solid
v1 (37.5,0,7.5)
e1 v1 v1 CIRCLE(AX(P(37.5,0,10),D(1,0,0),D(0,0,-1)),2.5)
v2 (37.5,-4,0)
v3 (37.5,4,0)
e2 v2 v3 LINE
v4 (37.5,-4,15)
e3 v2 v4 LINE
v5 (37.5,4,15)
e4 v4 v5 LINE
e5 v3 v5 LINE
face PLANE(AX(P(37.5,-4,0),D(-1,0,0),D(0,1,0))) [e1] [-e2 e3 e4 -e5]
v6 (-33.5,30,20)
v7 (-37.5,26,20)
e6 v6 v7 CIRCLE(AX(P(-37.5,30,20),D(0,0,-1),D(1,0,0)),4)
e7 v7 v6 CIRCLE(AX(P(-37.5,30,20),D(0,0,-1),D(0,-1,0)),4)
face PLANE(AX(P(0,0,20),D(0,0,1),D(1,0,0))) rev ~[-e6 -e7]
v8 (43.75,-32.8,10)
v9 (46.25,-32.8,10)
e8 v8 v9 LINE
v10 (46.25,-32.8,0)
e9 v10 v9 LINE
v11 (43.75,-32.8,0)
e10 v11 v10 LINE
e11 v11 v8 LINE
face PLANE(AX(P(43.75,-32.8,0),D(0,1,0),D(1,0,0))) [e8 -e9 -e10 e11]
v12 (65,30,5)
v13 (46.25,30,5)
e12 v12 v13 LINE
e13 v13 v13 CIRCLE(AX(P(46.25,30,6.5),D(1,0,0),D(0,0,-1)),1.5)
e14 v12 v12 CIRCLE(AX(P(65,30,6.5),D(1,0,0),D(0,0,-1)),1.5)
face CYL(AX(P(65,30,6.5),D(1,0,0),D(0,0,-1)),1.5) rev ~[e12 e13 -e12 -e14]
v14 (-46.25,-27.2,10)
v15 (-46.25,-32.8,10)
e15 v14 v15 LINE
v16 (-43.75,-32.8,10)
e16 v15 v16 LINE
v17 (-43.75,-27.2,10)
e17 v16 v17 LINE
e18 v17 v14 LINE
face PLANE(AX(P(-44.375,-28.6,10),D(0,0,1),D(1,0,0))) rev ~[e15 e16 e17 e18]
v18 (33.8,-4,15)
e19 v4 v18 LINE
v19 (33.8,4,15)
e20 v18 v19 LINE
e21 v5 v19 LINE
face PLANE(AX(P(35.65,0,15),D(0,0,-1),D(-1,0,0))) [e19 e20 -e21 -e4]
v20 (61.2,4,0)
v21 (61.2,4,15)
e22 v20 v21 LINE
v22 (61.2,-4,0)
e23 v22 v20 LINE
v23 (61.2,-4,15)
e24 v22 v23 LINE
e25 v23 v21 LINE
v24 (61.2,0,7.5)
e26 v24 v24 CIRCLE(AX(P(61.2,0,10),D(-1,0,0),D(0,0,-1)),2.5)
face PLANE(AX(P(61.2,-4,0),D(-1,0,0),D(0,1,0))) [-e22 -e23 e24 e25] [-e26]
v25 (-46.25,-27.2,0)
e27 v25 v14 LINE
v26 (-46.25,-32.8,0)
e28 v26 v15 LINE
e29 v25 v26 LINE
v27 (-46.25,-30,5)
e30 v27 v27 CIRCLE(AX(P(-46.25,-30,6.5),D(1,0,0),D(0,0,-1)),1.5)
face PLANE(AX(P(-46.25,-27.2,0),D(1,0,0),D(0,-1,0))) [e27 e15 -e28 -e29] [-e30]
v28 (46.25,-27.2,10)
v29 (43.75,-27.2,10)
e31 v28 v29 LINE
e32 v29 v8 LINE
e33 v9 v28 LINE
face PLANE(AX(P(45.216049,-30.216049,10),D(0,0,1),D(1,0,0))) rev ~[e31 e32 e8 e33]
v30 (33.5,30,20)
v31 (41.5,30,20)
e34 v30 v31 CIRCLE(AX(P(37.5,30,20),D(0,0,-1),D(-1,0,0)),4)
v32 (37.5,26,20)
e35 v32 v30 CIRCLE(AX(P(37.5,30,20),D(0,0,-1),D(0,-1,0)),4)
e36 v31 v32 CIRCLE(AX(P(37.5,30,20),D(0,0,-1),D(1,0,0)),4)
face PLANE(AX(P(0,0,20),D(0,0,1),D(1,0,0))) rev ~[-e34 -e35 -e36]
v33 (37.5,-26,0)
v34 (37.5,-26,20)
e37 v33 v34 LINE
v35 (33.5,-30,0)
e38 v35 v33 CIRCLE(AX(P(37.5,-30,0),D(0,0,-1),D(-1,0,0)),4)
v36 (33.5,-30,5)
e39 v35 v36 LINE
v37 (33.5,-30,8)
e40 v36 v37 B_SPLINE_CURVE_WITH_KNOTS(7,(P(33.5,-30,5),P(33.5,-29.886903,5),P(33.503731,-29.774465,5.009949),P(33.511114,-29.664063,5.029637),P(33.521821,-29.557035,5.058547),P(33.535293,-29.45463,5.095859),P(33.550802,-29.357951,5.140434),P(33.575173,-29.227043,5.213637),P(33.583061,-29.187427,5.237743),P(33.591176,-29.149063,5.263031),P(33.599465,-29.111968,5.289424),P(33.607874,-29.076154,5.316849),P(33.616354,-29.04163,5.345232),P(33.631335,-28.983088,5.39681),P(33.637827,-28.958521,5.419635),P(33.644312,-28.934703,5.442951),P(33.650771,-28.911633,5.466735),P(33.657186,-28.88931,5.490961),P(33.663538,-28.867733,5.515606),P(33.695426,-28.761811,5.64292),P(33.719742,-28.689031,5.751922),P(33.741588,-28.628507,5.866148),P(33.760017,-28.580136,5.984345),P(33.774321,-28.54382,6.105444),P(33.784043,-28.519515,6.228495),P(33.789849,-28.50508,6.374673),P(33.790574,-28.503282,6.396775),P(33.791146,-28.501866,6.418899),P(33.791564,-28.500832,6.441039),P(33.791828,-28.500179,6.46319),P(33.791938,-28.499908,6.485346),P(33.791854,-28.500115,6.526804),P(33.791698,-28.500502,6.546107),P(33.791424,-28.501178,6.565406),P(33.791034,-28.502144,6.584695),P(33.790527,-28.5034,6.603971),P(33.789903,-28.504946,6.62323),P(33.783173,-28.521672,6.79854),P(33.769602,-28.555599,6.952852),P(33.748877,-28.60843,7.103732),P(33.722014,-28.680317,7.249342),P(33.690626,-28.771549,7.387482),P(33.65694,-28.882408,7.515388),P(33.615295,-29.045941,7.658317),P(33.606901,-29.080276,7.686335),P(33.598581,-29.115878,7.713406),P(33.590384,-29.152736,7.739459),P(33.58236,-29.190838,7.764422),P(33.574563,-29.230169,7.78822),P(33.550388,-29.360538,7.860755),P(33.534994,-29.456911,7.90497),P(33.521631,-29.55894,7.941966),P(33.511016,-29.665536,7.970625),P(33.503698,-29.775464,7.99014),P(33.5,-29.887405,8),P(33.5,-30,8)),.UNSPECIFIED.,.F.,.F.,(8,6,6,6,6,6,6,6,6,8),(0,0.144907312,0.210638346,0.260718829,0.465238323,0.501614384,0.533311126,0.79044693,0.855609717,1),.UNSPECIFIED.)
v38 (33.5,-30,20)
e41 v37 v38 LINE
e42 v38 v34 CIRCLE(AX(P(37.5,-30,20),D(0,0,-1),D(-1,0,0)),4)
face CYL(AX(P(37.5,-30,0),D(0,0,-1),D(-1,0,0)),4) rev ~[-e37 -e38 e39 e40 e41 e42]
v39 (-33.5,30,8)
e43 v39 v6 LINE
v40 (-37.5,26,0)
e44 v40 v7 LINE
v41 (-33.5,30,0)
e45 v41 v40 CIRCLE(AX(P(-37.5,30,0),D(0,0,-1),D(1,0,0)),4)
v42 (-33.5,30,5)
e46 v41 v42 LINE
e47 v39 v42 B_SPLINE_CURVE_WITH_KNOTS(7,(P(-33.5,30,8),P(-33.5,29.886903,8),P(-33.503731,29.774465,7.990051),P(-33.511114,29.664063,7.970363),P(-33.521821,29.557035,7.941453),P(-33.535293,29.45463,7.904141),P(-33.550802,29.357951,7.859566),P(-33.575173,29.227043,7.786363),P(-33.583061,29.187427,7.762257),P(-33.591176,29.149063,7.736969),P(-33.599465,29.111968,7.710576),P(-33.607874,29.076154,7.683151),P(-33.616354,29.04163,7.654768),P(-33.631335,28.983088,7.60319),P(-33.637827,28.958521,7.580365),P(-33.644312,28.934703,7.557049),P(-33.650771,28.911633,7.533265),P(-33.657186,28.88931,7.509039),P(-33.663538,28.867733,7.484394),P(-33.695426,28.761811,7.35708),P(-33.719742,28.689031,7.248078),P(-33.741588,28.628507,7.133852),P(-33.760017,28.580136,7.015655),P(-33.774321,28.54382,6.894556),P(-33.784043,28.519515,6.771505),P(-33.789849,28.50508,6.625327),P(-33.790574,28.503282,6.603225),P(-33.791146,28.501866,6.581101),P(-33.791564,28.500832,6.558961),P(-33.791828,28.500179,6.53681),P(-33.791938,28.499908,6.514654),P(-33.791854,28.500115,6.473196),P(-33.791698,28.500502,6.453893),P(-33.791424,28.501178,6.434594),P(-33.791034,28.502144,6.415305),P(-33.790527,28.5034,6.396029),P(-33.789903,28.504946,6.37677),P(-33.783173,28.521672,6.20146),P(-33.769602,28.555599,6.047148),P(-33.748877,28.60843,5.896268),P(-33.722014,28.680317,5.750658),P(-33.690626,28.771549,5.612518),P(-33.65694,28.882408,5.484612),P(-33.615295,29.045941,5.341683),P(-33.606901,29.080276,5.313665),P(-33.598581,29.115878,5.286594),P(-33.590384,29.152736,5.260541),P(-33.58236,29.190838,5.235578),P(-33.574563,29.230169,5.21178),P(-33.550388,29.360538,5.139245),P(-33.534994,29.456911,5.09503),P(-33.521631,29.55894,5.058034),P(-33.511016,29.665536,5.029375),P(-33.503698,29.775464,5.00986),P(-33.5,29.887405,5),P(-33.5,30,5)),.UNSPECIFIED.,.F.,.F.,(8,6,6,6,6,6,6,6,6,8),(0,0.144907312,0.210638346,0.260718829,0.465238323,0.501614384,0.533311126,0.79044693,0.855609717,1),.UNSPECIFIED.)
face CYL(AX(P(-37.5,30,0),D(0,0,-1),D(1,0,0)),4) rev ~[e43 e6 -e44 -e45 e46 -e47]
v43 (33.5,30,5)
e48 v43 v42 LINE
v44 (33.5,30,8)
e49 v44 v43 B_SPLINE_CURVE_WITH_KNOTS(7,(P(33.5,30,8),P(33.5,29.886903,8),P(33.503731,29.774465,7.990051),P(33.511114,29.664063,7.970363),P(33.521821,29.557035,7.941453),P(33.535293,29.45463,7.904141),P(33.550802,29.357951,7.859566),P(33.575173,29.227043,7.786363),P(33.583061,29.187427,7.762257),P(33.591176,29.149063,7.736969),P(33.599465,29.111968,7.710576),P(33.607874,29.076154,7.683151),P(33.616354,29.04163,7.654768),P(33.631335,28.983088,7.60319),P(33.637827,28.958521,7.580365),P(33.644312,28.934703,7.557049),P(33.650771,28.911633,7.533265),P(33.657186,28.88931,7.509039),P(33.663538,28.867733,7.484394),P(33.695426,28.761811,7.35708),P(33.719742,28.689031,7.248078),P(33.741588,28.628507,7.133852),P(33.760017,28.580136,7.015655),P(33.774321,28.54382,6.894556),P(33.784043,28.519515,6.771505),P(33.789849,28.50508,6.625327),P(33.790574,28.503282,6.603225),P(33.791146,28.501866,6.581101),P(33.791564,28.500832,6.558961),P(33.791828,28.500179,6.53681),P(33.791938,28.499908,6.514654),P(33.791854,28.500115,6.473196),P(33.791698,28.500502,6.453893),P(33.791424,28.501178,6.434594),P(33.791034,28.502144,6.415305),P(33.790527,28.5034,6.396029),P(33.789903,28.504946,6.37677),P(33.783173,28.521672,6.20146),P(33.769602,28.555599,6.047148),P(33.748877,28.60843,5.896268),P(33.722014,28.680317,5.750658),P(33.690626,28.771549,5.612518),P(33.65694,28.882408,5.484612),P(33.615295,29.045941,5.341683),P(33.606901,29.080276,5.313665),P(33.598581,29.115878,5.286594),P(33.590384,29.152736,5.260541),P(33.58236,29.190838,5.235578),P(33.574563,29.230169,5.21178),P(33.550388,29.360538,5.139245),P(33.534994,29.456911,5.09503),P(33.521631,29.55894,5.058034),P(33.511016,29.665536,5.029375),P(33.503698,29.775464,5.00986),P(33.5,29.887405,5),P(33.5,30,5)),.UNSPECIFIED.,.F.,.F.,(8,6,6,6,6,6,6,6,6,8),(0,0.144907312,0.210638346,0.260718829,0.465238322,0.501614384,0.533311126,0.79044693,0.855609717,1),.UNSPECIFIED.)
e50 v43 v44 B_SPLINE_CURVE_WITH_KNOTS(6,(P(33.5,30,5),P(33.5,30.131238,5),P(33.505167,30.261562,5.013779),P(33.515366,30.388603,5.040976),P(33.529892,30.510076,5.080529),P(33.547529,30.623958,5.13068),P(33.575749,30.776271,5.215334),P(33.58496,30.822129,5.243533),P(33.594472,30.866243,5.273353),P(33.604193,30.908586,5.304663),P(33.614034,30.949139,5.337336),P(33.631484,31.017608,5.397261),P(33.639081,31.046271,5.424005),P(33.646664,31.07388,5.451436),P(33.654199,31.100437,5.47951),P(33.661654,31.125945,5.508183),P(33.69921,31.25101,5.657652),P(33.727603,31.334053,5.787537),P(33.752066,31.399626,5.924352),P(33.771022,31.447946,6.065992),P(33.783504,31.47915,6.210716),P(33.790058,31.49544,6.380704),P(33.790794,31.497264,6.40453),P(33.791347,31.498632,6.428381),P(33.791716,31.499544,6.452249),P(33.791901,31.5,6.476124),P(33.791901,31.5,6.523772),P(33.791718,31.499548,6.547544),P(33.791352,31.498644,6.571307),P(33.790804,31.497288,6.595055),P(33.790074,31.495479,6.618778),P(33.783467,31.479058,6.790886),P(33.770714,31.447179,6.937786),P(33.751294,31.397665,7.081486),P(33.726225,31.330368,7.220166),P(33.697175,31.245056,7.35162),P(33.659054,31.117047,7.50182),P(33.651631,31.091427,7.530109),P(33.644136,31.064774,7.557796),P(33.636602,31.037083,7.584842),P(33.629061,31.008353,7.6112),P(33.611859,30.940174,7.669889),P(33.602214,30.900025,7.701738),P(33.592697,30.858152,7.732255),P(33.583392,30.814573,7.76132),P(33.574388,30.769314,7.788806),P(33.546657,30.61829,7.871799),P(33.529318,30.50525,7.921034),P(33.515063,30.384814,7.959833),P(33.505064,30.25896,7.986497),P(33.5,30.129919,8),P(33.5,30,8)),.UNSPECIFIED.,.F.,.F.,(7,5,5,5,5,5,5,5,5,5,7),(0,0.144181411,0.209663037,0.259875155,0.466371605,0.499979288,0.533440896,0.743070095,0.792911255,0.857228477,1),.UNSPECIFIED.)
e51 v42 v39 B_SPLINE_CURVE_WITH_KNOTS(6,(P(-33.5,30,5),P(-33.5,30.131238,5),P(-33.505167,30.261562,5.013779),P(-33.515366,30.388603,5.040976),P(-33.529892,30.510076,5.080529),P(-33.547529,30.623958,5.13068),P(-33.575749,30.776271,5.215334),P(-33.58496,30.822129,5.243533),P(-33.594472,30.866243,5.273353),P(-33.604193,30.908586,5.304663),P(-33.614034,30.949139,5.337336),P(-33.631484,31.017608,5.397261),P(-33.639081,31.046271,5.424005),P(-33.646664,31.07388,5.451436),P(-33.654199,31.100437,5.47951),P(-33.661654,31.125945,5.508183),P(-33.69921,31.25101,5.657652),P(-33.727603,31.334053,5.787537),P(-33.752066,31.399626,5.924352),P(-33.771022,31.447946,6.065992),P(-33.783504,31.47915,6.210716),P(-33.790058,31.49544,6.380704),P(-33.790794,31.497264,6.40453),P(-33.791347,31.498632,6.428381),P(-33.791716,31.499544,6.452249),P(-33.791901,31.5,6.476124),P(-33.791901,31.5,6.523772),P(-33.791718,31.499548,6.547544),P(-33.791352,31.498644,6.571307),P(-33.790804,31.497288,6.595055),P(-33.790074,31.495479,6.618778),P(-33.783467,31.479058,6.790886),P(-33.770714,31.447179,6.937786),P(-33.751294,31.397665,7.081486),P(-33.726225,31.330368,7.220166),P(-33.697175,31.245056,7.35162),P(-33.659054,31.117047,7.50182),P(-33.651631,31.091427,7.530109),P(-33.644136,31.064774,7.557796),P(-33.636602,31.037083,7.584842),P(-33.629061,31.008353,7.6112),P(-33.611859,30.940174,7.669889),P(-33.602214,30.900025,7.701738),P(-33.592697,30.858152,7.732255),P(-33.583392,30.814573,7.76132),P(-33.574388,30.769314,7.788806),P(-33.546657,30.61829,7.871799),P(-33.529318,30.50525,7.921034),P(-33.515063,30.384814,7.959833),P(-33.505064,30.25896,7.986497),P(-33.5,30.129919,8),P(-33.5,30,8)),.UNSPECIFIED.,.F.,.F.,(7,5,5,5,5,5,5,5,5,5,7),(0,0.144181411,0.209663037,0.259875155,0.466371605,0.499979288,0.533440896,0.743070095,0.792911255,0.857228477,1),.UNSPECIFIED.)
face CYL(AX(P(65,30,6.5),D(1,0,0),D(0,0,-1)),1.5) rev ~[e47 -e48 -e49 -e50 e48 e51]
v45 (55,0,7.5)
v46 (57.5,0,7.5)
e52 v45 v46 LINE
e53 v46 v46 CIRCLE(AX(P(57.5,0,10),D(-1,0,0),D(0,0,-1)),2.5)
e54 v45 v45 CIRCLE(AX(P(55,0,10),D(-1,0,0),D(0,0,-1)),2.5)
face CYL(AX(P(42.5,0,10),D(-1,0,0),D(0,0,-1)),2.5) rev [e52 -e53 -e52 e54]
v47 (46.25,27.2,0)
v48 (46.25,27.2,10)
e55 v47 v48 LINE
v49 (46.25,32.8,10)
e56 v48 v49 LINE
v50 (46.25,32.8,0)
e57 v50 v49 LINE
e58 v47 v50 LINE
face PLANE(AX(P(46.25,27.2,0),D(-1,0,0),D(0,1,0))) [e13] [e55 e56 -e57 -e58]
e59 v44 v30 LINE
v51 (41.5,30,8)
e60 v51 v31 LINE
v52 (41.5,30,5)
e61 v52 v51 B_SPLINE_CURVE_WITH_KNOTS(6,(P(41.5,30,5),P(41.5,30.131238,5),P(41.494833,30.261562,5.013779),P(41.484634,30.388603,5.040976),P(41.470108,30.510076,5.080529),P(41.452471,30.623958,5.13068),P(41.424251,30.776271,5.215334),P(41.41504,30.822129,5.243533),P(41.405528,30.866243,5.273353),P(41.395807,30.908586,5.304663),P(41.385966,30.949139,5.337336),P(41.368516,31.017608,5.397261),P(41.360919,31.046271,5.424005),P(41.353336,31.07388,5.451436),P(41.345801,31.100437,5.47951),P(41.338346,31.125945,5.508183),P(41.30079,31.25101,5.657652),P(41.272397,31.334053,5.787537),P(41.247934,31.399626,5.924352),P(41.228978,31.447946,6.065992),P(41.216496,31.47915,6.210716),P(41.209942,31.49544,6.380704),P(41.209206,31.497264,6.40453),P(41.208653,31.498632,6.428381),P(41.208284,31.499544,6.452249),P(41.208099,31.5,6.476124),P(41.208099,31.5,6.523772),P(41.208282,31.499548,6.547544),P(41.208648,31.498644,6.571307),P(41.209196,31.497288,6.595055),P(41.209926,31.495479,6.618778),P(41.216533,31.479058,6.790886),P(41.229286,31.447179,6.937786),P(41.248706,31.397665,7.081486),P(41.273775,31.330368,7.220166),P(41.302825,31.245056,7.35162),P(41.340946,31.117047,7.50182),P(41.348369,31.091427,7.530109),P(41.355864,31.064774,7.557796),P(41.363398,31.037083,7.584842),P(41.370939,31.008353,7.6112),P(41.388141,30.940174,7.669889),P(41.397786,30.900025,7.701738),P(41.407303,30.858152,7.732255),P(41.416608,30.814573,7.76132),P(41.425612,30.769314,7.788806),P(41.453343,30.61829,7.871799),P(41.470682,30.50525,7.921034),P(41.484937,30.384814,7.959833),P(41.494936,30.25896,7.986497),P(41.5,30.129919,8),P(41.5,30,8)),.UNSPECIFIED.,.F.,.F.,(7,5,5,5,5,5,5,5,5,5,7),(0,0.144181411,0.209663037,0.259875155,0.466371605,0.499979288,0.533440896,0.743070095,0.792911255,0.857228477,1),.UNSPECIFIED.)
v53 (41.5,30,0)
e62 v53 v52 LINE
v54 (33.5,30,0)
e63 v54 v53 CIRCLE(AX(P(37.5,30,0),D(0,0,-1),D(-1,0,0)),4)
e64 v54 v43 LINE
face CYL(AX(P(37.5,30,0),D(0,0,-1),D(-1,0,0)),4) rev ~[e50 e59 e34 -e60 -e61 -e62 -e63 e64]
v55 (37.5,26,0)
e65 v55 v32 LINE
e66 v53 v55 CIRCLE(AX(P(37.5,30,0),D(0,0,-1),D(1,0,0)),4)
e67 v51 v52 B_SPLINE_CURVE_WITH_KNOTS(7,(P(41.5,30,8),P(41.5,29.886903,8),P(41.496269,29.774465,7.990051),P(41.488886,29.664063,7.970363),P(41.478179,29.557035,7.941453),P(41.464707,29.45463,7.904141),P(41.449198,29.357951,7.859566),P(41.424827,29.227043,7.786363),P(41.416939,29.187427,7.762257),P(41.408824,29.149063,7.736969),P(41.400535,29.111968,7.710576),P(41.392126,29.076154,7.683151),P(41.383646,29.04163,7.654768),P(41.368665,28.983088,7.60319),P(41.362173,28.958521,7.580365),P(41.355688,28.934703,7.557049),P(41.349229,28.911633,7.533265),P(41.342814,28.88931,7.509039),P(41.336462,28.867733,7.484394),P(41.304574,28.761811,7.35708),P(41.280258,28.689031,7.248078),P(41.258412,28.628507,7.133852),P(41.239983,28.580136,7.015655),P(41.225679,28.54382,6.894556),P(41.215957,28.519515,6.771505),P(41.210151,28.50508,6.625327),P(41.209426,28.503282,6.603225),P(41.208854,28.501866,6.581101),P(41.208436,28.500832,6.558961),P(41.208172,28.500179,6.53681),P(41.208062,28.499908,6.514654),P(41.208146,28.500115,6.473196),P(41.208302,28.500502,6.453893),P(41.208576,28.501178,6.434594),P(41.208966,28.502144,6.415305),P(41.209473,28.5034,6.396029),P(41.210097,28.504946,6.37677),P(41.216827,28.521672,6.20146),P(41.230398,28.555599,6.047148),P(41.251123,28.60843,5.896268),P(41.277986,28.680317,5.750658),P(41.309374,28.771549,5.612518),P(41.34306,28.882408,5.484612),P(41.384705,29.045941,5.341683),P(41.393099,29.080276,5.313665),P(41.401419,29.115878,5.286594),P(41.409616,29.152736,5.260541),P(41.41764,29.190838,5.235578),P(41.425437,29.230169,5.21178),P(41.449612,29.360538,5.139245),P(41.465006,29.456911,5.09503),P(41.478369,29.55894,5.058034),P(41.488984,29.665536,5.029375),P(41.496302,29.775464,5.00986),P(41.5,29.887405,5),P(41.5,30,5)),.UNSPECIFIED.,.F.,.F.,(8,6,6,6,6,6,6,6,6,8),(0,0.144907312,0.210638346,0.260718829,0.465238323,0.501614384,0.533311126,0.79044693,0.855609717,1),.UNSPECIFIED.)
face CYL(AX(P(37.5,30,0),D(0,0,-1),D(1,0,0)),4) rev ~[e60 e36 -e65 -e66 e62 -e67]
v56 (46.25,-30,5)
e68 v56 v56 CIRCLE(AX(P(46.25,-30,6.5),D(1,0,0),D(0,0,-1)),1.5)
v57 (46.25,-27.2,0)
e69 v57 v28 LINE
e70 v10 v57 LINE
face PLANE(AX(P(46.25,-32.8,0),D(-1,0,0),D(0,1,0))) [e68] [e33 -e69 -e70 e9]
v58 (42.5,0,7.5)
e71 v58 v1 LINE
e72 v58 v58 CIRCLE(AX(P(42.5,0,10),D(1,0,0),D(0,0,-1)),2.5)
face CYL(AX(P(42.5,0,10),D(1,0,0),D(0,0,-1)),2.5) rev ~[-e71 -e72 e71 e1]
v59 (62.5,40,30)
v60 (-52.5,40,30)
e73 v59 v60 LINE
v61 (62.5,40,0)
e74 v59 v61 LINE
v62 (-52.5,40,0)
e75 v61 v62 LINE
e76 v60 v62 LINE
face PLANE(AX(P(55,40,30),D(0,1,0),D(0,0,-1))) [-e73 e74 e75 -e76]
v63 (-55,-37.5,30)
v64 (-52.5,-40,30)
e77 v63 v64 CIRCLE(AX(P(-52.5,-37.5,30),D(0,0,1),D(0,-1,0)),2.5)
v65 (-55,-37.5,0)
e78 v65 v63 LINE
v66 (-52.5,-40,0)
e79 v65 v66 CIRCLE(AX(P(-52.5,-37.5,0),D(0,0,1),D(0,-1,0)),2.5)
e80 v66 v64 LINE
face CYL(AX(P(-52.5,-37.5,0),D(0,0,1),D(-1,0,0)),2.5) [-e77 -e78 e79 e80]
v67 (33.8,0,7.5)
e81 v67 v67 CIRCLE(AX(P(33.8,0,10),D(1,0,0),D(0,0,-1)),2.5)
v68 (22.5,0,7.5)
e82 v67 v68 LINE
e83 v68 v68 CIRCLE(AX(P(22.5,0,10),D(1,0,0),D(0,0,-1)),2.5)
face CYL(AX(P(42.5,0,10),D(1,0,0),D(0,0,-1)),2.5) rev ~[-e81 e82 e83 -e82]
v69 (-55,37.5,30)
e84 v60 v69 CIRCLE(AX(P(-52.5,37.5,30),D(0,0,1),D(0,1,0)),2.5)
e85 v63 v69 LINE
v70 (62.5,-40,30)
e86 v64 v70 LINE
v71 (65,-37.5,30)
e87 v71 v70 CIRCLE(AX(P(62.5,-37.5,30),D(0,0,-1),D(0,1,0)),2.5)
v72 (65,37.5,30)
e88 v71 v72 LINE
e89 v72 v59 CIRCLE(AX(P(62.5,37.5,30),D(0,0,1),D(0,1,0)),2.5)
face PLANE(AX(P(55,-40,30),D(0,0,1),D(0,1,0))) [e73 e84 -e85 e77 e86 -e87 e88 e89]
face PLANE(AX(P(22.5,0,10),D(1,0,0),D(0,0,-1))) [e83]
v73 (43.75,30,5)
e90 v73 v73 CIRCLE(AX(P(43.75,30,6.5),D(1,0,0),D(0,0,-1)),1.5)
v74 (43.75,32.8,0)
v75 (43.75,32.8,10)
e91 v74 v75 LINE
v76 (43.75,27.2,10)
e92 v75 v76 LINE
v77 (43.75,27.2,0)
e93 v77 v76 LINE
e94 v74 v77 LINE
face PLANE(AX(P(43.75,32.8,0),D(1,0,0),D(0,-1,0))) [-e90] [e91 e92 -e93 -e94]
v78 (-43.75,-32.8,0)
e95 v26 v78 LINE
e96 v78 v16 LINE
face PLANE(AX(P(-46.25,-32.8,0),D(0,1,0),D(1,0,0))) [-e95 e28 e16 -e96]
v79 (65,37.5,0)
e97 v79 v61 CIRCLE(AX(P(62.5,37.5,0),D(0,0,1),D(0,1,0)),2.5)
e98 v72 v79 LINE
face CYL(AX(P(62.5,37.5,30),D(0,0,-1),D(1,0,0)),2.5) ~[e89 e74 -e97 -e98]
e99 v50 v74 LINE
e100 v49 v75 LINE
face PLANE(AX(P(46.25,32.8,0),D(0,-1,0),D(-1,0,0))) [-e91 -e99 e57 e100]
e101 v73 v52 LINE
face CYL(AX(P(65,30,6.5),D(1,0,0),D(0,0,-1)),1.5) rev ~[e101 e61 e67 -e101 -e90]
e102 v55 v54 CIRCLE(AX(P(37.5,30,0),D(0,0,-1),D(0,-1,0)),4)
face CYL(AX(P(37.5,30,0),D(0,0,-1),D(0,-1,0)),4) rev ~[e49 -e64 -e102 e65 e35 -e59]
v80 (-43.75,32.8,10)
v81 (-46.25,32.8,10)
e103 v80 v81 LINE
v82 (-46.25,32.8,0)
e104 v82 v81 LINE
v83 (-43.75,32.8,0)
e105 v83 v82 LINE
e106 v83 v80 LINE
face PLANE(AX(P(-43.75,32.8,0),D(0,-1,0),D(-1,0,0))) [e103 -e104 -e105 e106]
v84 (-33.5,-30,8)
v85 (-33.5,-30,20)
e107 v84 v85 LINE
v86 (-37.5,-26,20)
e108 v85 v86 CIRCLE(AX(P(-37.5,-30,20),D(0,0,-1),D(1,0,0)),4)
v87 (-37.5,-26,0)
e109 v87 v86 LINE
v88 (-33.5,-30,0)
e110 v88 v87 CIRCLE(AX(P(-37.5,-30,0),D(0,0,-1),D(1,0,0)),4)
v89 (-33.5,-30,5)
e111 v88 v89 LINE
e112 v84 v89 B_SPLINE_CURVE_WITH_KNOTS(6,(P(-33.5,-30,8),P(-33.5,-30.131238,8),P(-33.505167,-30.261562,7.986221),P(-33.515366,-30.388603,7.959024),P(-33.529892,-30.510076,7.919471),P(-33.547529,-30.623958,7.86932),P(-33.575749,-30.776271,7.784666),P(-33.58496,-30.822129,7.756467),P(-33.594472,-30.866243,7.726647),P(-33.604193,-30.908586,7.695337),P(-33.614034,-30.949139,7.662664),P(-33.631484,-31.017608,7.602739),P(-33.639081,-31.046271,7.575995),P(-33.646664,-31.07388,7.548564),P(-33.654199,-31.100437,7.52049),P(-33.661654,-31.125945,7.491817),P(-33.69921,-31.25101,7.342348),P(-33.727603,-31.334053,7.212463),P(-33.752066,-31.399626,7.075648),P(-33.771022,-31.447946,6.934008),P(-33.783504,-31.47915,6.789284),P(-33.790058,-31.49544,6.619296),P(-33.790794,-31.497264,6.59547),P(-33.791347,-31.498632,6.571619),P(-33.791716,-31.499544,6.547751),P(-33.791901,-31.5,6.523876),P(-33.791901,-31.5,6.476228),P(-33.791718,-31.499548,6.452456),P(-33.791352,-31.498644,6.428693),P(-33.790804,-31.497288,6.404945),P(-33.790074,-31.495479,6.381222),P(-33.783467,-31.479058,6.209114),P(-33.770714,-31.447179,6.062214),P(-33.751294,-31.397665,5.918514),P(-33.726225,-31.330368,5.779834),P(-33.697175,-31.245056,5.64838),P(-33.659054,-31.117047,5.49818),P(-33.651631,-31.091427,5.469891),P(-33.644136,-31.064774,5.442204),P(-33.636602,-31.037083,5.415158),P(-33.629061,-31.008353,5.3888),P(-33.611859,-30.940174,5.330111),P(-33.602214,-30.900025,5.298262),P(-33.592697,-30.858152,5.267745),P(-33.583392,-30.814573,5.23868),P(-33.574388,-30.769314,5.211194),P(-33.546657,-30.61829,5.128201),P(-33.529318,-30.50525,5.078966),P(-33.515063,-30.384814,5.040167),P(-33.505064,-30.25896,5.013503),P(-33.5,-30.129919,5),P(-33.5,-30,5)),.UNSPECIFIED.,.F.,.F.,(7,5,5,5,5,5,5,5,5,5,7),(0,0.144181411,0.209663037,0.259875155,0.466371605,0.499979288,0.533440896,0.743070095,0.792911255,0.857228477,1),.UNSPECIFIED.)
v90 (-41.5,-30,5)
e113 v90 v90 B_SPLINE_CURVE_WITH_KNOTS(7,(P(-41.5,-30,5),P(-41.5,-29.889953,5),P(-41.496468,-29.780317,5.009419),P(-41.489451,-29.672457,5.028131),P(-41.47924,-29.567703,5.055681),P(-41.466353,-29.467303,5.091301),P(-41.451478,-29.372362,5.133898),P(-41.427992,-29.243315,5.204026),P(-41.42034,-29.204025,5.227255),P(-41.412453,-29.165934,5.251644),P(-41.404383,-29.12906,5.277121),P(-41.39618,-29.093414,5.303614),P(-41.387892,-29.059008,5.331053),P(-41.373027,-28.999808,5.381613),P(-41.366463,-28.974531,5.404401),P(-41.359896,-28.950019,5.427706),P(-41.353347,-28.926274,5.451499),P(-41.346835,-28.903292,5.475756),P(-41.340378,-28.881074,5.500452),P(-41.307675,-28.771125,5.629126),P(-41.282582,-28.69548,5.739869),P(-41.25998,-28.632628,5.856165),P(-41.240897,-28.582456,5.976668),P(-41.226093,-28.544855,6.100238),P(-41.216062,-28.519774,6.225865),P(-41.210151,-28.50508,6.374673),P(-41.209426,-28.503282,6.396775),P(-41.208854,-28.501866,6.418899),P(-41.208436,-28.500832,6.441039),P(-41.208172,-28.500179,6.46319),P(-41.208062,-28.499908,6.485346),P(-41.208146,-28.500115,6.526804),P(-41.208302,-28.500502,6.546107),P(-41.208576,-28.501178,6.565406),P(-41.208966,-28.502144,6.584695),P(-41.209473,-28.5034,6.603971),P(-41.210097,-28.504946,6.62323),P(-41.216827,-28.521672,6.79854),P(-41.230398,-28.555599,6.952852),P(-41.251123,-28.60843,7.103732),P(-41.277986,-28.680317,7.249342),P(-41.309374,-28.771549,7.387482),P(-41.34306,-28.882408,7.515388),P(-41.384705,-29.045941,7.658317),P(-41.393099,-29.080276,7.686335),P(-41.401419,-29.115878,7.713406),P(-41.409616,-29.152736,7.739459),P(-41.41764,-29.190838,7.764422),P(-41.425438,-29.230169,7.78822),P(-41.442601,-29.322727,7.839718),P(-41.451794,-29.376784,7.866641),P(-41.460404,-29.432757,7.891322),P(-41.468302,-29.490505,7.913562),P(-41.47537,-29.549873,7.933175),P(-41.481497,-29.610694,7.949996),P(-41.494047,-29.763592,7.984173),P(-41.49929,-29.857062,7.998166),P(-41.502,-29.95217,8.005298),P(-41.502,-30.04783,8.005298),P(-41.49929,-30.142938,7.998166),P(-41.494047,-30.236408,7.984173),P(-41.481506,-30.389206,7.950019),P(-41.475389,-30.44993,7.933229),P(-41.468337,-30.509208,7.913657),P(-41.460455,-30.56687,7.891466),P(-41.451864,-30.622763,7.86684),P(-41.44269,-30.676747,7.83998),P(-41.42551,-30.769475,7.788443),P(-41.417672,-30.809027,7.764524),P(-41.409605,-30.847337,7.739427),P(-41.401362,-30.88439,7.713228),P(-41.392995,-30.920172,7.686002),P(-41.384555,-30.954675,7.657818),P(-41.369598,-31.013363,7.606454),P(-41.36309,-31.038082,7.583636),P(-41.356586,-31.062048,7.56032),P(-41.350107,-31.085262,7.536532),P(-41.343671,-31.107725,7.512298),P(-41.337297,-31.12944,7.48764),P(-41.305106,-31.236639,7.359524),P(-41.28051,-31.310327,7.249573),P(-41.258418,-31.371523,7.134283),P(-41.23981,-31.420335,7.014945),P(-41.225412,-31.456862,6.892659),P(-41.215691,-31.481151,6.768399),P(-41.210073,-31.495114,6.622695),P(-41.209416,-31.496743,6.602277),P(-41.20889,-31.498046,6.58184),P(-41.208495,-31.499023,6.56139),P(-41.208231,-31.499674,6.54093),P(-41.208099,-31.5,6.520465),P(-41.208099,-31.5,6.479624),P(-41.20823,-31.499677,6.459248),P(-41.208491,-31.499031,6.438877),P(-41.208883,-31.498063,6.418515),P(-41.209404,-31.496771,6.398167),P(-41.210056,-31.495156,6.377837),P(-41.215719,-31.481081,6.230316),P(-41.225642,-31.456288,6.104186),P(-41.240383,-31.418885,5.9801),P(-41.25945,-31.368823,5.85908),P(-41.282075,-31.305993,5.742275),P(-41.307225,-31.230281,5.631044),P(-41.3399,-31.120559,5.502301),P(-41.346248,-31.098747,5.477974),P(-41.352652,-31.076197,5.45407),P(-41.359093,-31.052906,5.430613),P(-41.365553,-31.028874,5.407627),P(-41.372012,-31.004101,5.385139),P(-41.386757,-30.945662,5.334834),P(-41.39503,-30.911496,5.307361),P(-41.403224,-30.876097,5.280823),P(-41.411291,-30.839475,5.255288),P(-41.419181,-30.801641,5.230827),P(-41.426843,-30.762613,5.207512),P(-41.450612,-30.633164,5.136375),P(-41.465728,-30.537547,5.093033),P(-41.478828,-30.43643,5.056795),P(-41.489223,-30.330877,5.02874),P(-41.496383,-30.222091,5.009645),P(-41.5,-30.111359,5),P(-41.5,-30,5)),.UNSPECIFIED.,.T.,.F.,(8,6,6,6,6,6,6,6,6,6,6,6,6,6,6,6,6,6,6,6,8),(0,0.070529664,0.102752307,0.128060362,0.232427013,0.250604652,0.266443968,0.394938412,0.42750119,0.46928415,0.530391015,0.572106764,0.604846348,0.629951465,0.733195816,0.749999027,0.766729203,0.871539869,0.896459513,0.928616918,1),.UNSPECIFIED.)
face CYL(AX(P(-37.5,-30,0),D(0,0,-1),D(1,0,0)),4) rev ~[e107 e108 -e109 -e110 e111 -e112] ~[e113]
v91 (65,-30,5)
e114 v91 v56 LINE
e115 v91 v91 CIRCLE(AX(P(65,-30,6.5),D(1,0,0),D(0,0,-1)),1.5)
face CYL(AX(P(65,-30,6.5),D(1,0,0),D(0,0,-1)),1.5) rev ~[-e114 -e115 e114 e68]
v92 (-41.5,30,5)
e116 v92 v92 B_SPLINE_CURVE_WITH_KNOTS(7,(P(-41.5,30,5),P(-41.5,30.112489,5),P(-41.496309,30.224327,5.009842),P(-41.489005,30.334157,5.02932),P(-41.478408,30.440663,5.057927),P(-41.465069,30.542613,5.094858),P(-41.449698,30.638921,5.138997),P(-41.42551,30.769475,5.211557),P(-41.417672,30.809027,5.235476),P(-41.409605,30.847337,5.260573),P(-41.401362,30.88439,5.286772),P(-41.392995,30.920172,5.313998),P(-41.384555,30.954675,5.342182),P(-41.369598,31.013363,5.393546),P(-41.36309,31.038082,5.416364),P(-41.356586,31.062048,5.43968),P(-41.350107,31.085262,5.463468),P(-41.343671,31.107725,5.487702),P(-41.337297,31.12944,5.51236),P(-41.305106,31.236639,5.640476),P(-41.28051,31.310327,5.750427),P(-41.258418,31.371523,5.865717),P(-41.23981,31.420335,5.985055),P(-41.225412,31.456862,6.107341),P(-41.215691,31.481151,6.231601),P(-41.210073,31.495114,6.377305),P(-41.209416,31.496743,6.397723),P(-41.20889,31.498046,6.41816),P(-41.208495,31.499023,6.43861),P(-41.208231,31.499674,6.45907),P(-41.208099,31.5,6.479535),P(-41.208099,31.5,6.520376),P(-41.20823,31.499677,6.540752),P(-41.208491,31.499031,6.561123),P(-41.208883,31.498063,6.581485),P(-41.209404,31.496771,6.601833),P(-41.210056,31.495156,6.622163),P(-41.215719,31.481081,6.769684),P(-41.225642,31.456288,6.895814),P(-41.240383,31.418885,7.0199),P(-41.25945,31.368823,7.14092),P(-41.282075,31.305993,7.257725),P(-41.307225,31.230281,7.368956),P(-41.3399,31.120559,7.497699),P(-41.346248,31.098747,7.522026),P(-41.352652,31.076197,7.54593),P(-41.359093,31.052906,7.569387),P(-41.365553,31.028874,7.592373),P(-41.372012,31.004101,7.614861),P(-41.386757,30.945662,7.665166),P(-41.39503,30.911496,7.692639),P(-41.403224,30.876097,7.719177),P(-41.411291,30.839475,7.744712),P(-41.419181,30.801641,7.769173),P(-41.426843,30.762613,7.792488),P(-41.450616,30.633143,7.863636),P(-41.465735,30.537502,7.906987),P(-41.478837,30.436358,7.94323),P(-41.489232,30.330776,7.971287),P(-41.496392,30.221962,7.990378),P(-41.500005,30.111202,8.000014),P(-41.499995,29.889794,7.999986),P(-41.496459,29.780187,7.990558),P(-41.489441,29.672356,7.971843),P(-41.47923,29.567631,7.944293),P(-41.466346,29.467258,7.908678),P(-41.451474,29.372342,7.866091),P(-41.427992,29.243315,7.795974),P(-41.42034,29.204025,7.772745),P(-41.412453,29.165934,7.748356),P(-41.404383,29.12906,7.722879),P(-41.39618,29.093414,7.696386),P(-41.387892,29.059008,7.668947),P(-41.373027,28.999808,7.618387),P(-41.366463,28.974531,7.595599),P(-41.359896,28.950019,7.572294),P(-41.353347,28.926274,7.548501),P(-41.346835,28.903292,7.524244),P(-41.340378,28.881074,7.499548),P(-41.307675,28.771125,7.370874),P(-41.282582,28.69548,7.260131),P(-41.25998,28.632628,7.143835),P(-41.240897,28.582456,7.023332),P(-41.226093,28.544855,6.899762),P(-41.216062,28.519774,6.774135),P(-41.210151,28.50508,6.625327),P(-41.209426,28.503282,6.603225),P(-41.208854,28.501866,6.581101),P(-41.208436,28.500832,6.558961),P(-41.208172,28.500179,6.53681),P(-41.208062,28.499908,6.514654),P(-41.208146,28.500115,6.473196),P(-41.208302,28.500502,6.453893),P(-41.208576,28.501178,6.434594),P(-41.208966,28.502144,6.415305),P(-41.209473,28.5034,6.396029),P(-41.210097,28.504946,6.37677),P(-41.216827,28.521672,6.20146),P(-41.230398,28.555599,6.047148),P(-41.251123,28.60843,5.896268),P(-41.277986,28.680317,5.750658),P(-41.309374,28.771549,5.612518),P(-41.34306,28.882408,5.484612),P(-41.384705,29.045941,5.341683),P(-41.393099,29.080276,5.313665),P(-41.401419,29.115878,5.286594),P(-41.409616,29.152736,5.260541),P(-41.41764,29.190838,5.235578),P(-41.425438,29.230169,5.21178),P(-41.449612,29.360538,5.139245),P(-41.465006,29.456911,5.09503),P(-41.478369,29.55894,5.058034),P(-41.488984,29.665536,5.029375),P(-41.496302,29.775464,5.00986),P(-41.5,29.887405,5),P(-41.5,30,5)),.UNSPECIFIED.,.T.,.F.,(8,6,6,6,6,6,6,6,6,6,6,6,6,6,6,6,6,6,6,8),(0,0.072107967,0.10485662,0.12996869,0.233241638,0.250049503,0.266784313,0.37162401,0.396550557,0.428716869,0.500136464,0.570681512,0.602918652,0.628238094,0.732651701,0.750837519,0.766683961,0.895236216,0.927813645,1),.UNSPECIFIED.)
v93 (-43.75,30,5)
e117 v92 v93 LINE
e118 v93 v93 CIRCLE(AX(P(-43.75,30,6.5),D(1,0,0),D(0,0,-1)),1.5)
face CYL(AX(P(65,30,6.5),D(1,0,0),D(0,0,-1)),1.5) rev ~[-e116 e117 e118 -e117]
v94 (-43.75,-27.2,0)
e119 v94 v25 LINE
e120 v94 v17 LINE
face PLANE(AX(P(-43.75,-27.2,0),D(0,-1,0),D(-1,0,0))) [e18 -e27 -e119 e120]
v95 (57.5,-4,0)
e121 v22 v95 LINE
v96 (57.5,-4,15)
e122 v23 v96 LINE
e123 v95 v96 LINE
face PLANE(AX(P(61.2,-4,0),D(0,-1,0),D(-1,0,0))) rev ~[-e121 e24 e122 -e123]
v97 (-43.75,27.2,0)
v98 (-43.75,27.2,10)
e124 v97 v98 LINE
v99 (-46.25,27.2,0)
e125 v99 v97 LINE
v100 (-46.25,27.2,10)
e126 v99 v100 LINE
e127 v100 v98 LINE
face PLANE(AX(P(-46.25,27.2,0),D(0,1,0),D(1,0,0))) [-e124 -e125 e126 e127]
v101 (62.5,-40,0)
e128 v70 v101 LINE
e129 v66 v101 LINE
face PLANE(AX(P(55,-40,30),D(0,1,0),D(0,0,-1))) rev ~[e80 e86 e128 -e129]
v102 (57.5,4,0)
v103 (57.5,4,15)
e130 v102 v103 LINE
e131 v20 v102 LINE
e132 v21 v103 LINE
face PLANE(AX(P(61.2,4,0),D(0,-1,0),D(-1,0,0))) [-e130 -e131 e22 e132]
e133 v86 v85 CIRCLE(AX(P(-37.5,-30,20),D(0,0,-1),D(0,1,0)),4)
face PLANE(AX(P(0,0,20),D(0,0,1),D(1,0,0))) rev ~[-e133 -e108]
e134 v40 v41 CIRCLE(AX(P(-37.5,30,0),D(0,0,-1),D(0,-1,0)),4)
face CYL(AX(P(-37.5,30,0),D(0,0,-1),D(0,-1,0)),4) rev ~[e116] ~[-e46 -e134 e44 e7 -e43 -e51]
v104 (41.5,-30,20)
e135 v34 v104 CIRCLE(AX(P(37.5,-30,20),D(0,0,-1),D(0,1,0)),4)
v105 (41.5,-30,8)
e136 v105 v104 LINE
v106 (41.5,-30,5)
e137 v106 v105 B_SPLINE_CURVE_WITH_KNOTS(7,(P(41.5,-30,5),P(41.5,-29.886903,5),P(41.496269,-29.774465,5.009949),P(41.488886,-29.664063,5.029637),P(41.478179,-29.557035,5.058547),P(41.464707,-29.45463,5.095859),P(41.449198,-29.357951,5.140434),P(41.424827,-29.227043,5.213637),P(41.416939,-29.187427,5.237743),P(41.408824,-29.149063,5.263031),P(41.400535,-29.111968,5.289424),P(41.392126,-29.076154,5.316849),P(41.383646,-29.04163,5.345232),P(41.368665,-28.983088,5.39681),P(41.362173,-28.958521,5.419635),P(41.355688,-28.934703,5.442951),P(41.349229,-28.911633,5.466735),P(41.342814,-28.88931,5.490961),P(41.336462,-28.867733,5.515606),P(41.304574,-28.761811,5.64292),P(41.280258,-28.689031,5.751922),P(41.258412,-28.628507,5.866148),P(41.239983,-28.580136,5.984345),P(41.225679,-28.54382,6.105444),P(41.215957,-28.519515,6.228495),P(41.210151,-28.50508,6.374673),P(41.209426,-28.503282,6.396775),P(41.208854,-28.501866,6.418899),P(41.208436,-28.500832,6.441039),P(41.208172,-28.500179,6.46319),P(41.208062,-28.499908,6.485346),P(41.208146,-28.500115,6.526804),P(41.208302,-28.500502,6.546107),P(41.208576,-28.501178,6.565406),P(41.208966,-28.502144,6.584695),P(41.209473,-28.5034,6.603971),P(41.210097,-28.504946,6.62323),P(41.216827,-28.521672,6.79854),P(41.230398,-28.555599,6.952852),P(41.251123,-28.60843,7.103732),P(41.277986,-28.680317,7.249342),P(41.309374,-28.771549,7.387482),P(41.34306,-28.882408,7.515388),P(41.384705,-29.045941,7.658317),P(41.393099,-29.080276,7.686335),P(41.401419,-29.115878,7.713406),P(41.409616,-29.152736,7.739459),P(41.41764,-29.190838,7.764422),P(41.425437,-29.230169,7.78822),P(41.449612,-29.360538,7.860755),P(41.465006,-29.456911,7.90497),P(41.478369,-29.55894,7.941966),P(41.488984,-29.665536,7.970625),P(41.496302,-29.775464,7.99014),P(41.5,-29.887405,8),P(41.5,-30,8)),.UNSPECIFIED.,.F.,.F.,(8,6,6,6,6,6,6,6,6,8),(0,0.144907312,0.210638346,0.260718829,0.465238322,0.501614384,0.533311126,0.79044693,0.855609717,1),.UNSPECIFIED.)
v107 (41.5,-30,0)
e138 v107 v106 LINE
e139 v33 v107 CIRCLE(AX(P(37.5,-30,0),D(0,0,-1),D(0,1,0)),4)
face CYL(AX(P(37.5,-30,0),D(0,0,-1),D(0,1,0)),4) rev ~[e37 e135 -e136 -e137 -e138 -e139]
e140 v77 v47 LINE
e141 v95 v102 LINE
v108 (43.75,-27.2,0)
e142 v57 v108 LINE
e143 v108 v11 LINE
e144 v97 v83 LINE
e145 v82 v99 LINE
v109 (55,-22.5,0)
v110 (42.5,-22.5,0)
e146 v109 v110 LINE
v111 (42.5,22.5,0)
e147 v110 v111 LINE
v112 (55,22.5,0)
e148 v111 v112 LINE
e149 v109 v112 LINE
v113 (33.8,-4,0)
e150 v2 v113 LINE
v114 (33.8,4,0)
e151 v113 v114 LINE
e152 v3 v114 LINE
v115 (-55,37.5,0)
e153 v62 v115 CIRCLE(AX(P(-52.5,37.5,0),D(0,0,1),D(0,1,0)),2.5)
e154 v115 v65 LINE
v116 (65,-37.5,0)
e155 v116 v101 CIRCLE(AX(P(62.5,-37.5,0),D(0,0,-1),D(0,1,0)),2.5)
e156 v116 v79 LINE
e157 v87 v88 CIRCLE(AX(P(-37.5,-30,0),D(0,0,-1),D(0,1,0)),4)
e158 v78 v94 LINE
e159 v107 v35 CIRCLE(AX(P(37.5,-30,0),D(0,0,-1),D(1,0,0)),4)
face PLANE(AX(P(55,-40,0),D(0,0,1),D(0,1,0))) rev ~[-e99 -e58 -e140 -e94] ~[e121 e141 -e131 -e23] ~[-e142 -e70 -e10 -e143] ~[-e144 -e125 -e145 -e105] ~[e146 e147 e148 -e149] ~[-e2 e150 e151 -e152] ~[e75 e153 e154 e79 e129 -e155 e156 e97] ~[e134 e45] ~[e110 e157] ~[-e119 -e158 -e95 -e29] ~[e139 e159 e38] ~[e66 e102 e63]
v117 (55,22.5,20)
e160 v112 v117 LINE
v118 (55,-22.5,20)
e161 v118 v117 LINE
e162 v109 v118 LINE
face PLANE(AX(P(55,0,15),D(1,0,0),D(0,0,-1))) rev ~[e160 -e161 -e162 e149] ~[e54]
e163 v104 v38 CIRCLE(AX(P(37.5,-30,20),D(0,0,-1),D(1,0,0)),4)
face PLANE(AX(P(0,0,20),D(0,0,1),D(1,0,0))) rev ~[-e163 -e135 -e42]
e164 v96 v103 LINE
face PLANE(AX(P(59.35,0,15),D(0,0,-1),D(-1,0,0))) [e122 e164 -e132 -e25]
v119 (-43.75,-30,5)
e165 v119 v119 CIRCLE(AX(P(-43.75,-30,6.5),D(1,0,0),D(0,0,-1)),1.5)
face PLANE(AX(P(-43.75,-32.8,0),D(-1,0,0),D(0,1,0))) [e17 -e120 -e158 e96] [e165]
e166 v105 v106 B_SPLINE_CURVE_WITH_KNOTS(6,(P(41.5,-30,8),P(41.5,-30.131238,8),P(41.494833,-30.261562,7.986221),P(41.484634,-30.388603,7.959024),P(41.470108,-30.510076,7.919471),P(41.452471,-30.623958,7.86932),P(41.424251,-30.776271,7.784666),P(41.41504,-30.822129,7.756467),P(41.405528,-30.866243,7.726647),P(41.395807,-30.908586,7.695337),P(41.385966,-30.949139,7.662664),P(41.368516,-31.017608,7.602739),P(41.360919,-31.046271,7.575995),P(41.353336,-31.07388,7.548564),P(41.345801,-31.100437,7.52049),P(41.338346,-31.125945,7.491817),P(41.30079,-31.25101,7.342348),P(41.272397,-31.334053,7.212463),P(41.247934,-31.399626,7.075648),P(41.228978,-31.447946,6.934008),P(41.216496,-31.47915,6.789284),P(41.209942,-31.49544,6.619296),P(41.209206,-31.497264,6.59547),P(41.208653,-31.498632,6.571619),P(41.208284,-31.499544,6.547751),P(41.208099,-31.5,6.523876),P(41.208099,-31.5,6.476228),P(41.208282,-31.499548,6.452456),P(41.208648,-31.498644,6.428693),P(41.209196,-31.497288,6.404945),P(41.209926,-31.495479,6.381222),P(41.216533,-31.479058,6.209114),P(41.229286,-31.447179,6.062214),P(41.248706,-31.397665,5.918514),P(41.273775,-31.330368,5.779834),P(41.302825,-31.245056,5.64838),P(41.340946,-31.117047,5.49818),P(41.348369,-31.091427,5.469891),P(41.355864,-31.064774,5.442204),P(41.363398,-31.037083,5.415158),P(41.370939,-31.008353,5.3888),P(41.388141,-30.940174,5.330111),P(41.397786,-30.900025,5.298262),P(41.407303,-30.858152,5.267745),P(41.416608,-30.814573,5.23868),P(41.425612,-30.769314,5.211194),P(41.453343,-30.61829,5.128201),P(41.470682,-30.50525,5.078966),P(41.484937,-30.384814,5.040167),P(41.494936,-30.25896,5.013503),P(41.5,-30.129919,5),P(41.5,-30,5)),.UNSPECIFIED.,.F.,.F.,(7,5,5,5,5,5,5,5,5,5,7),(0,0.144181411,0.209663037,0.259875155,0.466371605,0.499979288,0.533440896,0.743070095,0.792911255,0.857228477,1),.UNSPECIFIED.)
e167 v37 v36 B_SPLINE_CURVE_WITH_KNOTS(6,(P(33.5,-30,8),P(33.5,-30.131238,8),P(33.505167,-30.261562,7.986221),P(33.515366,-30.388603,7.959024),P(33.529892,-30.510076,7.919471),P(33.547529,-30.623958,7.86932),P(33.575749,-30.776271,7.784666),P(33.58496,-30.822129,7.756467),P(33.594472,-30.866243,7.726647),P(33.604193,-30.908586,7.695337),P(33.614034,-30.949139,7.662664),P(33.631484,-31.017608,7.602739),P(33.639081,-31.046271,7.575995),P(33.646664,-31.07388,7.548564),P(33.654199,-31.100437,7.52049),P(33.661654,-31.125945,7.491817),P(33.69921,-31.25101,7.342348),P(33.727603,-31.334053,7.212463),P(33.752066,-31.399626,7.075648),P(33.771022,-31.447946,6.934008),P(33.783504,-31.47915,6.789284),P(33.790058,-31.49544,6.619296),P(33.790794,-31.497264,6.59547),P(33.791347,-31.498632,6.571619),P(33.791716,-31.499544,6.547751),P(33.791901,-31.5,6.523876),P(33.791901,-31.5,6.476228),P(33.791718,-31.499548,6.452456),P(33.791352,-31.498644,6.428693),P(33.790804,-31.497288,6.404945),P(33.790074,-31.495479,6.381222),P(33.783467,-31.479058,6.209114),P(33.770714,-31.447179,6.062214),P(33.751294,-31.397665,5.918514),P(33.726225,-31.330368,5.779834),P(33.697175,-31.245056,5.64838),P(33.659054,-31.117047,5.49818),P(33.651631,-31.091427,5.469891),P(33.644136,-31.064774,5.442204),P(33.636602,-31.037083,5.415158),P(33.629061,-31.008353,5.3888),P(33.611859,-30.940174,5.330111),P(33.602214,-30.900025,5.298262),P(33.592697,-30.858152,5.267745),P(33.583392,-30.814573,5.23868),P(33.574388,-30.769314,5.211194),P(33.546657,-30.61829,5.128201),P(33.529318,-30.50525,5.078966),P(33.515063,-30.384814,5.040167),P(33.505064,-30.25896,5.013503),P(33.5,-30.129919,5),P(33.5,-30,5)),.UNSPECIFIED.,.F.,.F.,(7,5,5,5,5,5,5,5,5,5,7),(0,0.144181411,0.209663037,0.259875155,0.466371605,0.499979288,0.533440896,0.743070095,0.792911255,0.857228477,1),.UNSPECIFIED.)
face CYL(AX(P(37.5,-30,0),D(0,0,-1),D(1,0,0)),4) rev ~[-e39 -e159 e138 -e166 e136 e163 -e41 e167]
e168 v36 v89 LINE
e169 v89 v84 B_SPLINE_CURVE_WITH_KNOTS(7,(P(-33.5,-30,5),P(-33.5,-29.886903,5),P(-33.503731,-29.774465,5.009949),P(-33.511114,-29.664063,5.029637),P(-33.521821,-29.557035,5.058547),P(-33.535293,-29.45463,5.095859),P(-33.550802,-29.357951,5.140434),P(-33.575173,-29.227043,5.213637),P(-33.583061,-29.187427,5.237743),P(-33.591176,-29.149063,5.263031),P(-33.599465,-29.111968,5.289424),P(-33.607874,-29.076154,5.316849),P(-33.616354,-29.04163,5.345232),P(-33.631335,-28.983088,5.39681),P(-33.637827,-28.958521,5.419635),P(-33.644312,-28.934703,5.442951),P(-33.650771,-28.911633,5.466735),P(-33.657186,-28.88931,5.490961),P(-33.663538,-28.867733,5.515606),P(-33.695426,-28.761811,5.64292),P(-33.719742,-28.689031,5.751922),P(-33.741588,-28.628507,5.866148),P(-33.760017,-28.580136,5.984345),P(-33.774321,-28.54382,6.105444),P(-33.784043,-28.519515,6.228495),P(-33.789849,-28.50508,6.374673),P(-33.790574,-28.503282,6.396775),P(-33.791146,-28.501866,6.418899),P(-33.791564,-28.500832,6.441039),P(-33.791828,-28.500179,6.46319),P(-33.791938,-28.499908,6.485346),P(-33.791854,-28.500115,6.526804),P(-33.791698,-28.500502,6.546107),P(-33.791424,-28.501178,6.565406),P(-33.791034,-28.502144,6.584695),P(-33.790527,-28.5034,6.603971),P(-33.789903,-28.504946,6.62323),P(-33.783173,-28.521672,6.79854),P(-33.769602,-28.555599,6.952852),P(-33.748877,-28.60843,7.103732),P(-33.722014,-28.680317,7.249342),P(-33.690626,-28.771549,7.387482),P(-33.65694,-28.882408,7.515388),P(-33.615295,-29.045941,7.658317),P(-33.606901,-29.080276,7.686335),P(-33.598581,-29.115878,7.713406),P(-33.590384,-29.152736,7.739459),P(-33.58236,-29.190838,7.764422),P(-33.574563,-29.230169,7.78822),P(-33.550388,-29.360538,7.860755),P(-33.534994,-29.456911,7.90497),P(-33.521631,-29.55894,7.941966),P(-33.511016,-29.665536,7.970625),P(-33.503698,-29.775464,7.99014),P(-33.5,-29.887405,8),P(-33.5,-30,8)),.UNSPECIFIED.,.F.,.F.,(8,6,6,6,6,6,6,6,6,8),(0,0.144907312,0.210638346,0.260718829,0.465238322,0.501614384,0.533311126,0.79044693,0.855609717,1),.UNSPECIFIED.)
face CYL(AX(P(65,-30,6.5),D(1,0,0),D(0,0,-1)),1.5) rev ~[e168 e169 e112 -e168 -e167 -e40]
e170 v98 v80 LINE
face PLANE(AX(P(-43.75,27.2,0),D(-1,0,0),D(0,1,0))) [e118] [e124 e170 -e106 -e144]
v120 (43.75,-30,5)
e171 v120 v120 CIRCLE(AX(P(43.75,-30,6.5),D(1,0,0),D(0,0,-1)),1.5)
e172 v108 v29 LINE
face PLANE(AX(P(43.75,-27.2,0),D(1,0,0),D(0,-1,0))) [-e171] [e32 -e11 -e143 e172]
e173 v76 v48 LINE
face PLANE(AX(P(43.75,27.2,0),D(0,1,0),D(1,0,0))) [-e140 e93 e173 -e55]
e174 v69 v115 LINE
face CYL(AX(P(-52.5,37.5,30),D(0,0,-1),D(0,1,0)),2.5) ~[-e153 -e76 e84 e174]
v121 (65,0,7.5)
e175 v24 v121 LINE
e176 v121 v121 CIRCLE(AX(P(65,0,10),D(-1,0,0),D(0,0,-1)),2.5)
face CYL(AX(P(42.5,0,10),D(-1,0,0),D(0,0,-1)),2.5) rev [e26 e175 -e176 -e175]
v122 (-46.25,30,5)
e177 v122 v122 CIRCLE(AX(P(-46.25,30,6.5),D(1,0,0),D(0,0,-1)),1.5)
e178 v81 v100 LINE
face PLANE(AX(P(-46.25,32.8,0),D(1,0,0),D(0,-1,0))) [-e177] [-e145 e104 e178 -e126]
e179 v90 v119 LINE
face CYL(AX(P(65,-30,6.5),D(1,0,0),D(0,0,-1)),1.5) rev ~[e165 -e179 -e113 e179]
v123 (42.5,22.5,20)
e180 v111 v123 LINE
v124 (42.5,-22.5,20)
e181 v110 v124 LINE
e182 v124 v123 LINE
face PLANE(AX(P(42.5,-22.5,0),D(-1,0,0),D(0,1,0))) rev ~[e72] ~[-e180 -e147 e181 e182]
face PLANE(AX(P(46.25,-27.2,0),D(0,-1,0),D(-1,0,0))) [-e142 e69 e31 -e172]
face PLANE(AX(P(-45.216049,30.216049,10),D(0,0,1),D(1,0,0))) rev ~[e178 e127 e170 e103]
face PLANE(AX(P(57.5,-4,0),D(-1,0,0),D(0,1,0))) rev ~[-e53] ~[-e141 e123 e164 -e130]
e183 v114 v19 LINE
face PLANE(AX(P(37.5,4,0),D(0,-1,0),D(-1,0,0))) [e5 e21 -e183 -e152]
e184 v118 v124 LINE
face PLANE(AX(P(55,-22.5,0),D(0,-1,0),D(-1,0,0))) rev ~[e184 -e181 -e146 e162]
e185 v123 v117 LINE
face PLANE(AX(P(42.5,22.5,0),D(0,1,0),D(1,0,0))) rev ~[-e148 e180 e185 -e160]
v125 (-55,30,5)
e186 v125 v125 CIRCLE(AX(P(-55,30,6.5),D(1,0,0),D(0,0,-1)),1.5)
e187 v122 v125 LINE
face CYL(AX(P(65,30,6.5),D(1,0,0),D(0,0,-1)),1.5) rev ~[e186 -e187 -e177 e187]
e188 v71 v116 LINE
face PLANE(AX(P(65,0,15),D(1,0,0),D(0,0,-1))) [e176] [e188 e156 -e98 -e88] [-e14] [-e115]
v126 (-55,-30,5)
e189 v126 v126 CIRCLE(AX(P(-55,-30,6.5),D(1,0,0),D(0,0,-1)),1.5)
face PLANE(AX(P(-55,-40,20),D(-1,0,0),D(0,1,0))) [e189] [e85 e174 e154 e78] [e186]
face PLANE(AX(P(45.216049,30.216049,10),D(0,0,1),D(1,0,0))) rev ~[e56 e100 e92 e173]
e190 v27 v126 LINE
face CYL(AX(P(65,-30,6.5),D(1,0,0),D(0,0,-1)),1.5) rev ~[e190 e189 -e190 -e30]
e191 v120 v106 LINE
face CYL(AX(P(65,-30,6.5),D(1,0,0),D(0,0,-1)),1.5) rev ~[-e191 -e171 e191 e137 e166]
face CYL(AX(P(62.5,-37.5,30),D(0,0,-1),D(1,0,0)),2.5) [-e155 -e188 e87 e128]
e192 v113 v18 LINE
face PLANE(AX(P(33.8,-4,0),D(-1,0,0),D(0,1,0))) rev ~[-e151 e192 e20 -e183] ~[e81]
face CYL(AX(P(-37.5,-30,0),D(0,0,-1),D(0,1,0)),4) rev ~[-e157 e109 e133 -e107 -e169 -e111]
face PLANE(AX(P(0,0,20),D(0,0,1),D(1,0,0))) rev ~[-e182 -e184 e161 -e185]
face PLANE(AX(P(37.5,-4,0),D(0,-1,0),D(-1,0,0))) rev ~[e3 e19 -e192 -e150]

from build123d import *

# Parameters (mm, degrees)
SKETCH2_W               = 75
SKETCH2_H               = 45
BOSS_EXTRUDE1_DEPTH     = 20
SKETCH3_W               = 110
SKETCH3_H               = 80
BOSS_EXTRUDE2_DEPTH     = 10
SKETCH4_W               = 1.25
SKETCH4_H               = 2.8
CUT_EXTRUDE1_DEPTH      = 10
SKETCH5_W               = 30
SKETCH5_H               = 80
BOSS_EXTRUDE4_DEPTH     = 10
SKETCH8_R               = 1.5
CUT_EXTRUDE2_DEPTH      = 120
SKETCH9_R               = 2.5
CUT_EXTRUDE3_DEPTH      = 40
CUT_EXTRUDE3_DEPTH_BACK = 20
SKETCH10_W              = 3.7
SKETCH10_H              = 8
CUT_EXTRUDE4_DEPTH      = 15
FILLET1_R               = 2.5


with BuildPart() as part:
    # Sketch2 → Boss-Extrude1 (new body)
    with BuildSketch(Plane.XY):
        Polygon((42.5, -22.5), (42.5, 22.5), (55, 22.5), (55, 40), (-55, 40), (-55, -40), (55, -40), (55, -22.5), align=None)
        with BuildLine():
            Line((-37.5, -22.5), (-37.5, 22.5))
            Line((-37.5, 22.5), (-37.5, 26))
            ThreePointArc((-37.5, 26), (-40.328427125, 32.828427125), (-33.5, 30))
            Line((-33.5, 30), (33.5, 30))
            ThreePointArc((33.5, 30), (37.5, 34), (41.5, 30))
            ThreePointArc((41.5, 30), (40.328427125, 27.171572875), (37.5, 26))
            Line((37.5, 26), (37.5, 22.5))
            Line((37.5, 22.5), (37.5, -22.5))
            Line((37.5, -22.5), (37.5, -26))
            ThreePointArc((37.5, -26), (40.328427125, -27.171572875), (41.5, -30))
            ThreePointArc((41.5, -30), (37.5, -34), (33.5, -30))
            Line((33.5, -30), (-33.5, -30))
            ThreePointArc((-33.5, -30), (-40.328427125, -32.828427125), (-37.5, -26))
            Line((-37.5, -26), (-37.5, -22.5))
        make_face(mode=Mode.SUBTRACT)
        with BuildLine():
            Line((-37.5, 26), (-37.5, 22.5))
            Line((-37.5, 22.5), (37.5, 22.5))
            Line((37.5, 22.5), (37.5, 26))
            ThreePointArc((37.5, 26), (34.671572875, 27.171572875), (33.5, 30))
            Line((33.5, 30), (-33.5, 30))
            ThreePointArc((-33.5, 30), (-34.671572875, 27.171572875), (-37.5, 26))
        make_face()
        Rectangle(SKETCH2_W, SKETCH2_H)
        with BuildLine():
            Line((37.5, -22.5), (-37.5, -22.5))
            Line((-37.5, -22.5), (-37.5, -26))
            ThreePointArc((-37.5, -26), (-34.671572875, -27.171572875), (-33.5, -30))
            Line((-33.5, -30), (33.5, -30))
            ThreePointArc((33.5, -30), (34.671572875, -27.171572875), (37.5, -26))
            Line((37.5, -26), (37.5, -22.5))
        make_face()
    extrude(amount=BOSS_EXTRUDE1_DEPTH)

    # Sketch3 → Boss-Extrude2 (add)
    with BuildSketch(Plane.XY.offset(20)):
        Rectangle(SKETCH3_W, SKETCH3_H)
    extrude(amount=BOSS_EXTRUDE2_DEPTH)

    # Sketch4 → Cut-Extrude1 (cut)
    with BuildSketch(Plane.XY):
        Polygon((43.75, 32.8), (43.75, 30), (45, 30), (45, 27.2), (46.25, 27.2), (46.25, 32.8), align=None)
        with Locations((44.375, 28.6)):
            Rectangle(SKETCH4_W, SKETCH4_H)
        Polygon((-45, 27.2), (-45, 30), (-43.75, 30), (-43.75, 32.8), (-46.25, 32.8), (-46.25, 27.2), align=None)
        with Locations((-44.375, 28.6)):
            Rectangle(SKETCH4_W, SKETCH4_H)
        with Locations((-44.375, -28.6)):
            Rectangle(SKETCH4_W, SKETCH4_H)
        Polygon((-45, -30), (-45, -27.2), (-46.25, -27.2), (-46.25, -32.8), (-43.75, -32.8), (-43.75, -30), align=None)
        Polygon((46.25, -27.2), (45, -27.2), (45, -30), (43.75, -30), (43.75, -32.8), (46.25, -32.8), align=None)
        with Locations((44.375, -28.6)):
            Rectangle(SKETCH4_W, SKETCH4_H)
    extrude(amount=CUT_EXTRUDE1_DEPTH, mode=Mode.SUBTRACT)

    # Sketch5 → Boss-Extrude4 (add)
    with BuildSketch(Plane(origin=(55, 0, 0), x_dir=(0, 0, -1), z_dir=(1, 0, 0))):
        with Locations((-15, 0)):
            Rectangle(SKETCH5_W, SKETCH5_H)
    extrude(amount=BOSS_EXTRUDE4_DEPTH)

    # Sketch8 → Cut-Extrude2 (cut)
    with BuildSketch(Plane(origin=(65, 0, 0), x_dir=(0, 0, -1), z_dir=(1, 0, 0))):
        with Locations((-6.5, 30)):
            Circle(SKETCH8_R)
        with Locations((-6.5, -30)):
            Circle(SKETCH8_R)
    extrude(amount=-CUT_EXTRUDE2_DEPTH, mode=Mode.SUBTRACT)

    # Sketch9 → Cut-Extrude3 (cut, two sides)
    with BuildSketch(Plane(origin=(42.5, 0, 0), x_dir=(0, 0, -1), z_dir=(1, 0, 0))) as cut_extrude3_sk:
        with Locations((-10, 0)):
            Circle(SKETCH9_R)
    extrude(amount=CUT_EXTRUDE3_DEPTH, mode=Mode.SUBTRACT)
    extrude(cut_extrude3_sk.sketch, amount=-CUT_EXTRUDE3_DEPTH_BACK, mode=Mode.SUBTRACT)

    # Sketch10 → Cut-Extrude4 (cut)
    with BuildSketch(Plane(origin=(0, 0, 0), x_dir=(-1, 0, 0), z_dir=(0, 0, -1))):
        with Locations((-35.65, 0)):
            Rectangle(SKETCH10_W, SKETCH10_H)
        with Locations((-59.35, 0)):
            Rectangle(SKETCH10_W, SKETCH10_H)
    extrude(amount=-CUT_EXTRUDE4_DEPTH, mode=Mode.SUBTRACT)

    # Fillet1
    fillet1_edges = [part.edges().sort_by_distance(p)[0] for p in [
        (65, -40, 15),
        (65, 40, 15),
        (-55, -40, 15),
        (-55, 40, 15),
    ]]
    fillet(fillet1_edges, radius=FILLET1_R)


solid = part.part
